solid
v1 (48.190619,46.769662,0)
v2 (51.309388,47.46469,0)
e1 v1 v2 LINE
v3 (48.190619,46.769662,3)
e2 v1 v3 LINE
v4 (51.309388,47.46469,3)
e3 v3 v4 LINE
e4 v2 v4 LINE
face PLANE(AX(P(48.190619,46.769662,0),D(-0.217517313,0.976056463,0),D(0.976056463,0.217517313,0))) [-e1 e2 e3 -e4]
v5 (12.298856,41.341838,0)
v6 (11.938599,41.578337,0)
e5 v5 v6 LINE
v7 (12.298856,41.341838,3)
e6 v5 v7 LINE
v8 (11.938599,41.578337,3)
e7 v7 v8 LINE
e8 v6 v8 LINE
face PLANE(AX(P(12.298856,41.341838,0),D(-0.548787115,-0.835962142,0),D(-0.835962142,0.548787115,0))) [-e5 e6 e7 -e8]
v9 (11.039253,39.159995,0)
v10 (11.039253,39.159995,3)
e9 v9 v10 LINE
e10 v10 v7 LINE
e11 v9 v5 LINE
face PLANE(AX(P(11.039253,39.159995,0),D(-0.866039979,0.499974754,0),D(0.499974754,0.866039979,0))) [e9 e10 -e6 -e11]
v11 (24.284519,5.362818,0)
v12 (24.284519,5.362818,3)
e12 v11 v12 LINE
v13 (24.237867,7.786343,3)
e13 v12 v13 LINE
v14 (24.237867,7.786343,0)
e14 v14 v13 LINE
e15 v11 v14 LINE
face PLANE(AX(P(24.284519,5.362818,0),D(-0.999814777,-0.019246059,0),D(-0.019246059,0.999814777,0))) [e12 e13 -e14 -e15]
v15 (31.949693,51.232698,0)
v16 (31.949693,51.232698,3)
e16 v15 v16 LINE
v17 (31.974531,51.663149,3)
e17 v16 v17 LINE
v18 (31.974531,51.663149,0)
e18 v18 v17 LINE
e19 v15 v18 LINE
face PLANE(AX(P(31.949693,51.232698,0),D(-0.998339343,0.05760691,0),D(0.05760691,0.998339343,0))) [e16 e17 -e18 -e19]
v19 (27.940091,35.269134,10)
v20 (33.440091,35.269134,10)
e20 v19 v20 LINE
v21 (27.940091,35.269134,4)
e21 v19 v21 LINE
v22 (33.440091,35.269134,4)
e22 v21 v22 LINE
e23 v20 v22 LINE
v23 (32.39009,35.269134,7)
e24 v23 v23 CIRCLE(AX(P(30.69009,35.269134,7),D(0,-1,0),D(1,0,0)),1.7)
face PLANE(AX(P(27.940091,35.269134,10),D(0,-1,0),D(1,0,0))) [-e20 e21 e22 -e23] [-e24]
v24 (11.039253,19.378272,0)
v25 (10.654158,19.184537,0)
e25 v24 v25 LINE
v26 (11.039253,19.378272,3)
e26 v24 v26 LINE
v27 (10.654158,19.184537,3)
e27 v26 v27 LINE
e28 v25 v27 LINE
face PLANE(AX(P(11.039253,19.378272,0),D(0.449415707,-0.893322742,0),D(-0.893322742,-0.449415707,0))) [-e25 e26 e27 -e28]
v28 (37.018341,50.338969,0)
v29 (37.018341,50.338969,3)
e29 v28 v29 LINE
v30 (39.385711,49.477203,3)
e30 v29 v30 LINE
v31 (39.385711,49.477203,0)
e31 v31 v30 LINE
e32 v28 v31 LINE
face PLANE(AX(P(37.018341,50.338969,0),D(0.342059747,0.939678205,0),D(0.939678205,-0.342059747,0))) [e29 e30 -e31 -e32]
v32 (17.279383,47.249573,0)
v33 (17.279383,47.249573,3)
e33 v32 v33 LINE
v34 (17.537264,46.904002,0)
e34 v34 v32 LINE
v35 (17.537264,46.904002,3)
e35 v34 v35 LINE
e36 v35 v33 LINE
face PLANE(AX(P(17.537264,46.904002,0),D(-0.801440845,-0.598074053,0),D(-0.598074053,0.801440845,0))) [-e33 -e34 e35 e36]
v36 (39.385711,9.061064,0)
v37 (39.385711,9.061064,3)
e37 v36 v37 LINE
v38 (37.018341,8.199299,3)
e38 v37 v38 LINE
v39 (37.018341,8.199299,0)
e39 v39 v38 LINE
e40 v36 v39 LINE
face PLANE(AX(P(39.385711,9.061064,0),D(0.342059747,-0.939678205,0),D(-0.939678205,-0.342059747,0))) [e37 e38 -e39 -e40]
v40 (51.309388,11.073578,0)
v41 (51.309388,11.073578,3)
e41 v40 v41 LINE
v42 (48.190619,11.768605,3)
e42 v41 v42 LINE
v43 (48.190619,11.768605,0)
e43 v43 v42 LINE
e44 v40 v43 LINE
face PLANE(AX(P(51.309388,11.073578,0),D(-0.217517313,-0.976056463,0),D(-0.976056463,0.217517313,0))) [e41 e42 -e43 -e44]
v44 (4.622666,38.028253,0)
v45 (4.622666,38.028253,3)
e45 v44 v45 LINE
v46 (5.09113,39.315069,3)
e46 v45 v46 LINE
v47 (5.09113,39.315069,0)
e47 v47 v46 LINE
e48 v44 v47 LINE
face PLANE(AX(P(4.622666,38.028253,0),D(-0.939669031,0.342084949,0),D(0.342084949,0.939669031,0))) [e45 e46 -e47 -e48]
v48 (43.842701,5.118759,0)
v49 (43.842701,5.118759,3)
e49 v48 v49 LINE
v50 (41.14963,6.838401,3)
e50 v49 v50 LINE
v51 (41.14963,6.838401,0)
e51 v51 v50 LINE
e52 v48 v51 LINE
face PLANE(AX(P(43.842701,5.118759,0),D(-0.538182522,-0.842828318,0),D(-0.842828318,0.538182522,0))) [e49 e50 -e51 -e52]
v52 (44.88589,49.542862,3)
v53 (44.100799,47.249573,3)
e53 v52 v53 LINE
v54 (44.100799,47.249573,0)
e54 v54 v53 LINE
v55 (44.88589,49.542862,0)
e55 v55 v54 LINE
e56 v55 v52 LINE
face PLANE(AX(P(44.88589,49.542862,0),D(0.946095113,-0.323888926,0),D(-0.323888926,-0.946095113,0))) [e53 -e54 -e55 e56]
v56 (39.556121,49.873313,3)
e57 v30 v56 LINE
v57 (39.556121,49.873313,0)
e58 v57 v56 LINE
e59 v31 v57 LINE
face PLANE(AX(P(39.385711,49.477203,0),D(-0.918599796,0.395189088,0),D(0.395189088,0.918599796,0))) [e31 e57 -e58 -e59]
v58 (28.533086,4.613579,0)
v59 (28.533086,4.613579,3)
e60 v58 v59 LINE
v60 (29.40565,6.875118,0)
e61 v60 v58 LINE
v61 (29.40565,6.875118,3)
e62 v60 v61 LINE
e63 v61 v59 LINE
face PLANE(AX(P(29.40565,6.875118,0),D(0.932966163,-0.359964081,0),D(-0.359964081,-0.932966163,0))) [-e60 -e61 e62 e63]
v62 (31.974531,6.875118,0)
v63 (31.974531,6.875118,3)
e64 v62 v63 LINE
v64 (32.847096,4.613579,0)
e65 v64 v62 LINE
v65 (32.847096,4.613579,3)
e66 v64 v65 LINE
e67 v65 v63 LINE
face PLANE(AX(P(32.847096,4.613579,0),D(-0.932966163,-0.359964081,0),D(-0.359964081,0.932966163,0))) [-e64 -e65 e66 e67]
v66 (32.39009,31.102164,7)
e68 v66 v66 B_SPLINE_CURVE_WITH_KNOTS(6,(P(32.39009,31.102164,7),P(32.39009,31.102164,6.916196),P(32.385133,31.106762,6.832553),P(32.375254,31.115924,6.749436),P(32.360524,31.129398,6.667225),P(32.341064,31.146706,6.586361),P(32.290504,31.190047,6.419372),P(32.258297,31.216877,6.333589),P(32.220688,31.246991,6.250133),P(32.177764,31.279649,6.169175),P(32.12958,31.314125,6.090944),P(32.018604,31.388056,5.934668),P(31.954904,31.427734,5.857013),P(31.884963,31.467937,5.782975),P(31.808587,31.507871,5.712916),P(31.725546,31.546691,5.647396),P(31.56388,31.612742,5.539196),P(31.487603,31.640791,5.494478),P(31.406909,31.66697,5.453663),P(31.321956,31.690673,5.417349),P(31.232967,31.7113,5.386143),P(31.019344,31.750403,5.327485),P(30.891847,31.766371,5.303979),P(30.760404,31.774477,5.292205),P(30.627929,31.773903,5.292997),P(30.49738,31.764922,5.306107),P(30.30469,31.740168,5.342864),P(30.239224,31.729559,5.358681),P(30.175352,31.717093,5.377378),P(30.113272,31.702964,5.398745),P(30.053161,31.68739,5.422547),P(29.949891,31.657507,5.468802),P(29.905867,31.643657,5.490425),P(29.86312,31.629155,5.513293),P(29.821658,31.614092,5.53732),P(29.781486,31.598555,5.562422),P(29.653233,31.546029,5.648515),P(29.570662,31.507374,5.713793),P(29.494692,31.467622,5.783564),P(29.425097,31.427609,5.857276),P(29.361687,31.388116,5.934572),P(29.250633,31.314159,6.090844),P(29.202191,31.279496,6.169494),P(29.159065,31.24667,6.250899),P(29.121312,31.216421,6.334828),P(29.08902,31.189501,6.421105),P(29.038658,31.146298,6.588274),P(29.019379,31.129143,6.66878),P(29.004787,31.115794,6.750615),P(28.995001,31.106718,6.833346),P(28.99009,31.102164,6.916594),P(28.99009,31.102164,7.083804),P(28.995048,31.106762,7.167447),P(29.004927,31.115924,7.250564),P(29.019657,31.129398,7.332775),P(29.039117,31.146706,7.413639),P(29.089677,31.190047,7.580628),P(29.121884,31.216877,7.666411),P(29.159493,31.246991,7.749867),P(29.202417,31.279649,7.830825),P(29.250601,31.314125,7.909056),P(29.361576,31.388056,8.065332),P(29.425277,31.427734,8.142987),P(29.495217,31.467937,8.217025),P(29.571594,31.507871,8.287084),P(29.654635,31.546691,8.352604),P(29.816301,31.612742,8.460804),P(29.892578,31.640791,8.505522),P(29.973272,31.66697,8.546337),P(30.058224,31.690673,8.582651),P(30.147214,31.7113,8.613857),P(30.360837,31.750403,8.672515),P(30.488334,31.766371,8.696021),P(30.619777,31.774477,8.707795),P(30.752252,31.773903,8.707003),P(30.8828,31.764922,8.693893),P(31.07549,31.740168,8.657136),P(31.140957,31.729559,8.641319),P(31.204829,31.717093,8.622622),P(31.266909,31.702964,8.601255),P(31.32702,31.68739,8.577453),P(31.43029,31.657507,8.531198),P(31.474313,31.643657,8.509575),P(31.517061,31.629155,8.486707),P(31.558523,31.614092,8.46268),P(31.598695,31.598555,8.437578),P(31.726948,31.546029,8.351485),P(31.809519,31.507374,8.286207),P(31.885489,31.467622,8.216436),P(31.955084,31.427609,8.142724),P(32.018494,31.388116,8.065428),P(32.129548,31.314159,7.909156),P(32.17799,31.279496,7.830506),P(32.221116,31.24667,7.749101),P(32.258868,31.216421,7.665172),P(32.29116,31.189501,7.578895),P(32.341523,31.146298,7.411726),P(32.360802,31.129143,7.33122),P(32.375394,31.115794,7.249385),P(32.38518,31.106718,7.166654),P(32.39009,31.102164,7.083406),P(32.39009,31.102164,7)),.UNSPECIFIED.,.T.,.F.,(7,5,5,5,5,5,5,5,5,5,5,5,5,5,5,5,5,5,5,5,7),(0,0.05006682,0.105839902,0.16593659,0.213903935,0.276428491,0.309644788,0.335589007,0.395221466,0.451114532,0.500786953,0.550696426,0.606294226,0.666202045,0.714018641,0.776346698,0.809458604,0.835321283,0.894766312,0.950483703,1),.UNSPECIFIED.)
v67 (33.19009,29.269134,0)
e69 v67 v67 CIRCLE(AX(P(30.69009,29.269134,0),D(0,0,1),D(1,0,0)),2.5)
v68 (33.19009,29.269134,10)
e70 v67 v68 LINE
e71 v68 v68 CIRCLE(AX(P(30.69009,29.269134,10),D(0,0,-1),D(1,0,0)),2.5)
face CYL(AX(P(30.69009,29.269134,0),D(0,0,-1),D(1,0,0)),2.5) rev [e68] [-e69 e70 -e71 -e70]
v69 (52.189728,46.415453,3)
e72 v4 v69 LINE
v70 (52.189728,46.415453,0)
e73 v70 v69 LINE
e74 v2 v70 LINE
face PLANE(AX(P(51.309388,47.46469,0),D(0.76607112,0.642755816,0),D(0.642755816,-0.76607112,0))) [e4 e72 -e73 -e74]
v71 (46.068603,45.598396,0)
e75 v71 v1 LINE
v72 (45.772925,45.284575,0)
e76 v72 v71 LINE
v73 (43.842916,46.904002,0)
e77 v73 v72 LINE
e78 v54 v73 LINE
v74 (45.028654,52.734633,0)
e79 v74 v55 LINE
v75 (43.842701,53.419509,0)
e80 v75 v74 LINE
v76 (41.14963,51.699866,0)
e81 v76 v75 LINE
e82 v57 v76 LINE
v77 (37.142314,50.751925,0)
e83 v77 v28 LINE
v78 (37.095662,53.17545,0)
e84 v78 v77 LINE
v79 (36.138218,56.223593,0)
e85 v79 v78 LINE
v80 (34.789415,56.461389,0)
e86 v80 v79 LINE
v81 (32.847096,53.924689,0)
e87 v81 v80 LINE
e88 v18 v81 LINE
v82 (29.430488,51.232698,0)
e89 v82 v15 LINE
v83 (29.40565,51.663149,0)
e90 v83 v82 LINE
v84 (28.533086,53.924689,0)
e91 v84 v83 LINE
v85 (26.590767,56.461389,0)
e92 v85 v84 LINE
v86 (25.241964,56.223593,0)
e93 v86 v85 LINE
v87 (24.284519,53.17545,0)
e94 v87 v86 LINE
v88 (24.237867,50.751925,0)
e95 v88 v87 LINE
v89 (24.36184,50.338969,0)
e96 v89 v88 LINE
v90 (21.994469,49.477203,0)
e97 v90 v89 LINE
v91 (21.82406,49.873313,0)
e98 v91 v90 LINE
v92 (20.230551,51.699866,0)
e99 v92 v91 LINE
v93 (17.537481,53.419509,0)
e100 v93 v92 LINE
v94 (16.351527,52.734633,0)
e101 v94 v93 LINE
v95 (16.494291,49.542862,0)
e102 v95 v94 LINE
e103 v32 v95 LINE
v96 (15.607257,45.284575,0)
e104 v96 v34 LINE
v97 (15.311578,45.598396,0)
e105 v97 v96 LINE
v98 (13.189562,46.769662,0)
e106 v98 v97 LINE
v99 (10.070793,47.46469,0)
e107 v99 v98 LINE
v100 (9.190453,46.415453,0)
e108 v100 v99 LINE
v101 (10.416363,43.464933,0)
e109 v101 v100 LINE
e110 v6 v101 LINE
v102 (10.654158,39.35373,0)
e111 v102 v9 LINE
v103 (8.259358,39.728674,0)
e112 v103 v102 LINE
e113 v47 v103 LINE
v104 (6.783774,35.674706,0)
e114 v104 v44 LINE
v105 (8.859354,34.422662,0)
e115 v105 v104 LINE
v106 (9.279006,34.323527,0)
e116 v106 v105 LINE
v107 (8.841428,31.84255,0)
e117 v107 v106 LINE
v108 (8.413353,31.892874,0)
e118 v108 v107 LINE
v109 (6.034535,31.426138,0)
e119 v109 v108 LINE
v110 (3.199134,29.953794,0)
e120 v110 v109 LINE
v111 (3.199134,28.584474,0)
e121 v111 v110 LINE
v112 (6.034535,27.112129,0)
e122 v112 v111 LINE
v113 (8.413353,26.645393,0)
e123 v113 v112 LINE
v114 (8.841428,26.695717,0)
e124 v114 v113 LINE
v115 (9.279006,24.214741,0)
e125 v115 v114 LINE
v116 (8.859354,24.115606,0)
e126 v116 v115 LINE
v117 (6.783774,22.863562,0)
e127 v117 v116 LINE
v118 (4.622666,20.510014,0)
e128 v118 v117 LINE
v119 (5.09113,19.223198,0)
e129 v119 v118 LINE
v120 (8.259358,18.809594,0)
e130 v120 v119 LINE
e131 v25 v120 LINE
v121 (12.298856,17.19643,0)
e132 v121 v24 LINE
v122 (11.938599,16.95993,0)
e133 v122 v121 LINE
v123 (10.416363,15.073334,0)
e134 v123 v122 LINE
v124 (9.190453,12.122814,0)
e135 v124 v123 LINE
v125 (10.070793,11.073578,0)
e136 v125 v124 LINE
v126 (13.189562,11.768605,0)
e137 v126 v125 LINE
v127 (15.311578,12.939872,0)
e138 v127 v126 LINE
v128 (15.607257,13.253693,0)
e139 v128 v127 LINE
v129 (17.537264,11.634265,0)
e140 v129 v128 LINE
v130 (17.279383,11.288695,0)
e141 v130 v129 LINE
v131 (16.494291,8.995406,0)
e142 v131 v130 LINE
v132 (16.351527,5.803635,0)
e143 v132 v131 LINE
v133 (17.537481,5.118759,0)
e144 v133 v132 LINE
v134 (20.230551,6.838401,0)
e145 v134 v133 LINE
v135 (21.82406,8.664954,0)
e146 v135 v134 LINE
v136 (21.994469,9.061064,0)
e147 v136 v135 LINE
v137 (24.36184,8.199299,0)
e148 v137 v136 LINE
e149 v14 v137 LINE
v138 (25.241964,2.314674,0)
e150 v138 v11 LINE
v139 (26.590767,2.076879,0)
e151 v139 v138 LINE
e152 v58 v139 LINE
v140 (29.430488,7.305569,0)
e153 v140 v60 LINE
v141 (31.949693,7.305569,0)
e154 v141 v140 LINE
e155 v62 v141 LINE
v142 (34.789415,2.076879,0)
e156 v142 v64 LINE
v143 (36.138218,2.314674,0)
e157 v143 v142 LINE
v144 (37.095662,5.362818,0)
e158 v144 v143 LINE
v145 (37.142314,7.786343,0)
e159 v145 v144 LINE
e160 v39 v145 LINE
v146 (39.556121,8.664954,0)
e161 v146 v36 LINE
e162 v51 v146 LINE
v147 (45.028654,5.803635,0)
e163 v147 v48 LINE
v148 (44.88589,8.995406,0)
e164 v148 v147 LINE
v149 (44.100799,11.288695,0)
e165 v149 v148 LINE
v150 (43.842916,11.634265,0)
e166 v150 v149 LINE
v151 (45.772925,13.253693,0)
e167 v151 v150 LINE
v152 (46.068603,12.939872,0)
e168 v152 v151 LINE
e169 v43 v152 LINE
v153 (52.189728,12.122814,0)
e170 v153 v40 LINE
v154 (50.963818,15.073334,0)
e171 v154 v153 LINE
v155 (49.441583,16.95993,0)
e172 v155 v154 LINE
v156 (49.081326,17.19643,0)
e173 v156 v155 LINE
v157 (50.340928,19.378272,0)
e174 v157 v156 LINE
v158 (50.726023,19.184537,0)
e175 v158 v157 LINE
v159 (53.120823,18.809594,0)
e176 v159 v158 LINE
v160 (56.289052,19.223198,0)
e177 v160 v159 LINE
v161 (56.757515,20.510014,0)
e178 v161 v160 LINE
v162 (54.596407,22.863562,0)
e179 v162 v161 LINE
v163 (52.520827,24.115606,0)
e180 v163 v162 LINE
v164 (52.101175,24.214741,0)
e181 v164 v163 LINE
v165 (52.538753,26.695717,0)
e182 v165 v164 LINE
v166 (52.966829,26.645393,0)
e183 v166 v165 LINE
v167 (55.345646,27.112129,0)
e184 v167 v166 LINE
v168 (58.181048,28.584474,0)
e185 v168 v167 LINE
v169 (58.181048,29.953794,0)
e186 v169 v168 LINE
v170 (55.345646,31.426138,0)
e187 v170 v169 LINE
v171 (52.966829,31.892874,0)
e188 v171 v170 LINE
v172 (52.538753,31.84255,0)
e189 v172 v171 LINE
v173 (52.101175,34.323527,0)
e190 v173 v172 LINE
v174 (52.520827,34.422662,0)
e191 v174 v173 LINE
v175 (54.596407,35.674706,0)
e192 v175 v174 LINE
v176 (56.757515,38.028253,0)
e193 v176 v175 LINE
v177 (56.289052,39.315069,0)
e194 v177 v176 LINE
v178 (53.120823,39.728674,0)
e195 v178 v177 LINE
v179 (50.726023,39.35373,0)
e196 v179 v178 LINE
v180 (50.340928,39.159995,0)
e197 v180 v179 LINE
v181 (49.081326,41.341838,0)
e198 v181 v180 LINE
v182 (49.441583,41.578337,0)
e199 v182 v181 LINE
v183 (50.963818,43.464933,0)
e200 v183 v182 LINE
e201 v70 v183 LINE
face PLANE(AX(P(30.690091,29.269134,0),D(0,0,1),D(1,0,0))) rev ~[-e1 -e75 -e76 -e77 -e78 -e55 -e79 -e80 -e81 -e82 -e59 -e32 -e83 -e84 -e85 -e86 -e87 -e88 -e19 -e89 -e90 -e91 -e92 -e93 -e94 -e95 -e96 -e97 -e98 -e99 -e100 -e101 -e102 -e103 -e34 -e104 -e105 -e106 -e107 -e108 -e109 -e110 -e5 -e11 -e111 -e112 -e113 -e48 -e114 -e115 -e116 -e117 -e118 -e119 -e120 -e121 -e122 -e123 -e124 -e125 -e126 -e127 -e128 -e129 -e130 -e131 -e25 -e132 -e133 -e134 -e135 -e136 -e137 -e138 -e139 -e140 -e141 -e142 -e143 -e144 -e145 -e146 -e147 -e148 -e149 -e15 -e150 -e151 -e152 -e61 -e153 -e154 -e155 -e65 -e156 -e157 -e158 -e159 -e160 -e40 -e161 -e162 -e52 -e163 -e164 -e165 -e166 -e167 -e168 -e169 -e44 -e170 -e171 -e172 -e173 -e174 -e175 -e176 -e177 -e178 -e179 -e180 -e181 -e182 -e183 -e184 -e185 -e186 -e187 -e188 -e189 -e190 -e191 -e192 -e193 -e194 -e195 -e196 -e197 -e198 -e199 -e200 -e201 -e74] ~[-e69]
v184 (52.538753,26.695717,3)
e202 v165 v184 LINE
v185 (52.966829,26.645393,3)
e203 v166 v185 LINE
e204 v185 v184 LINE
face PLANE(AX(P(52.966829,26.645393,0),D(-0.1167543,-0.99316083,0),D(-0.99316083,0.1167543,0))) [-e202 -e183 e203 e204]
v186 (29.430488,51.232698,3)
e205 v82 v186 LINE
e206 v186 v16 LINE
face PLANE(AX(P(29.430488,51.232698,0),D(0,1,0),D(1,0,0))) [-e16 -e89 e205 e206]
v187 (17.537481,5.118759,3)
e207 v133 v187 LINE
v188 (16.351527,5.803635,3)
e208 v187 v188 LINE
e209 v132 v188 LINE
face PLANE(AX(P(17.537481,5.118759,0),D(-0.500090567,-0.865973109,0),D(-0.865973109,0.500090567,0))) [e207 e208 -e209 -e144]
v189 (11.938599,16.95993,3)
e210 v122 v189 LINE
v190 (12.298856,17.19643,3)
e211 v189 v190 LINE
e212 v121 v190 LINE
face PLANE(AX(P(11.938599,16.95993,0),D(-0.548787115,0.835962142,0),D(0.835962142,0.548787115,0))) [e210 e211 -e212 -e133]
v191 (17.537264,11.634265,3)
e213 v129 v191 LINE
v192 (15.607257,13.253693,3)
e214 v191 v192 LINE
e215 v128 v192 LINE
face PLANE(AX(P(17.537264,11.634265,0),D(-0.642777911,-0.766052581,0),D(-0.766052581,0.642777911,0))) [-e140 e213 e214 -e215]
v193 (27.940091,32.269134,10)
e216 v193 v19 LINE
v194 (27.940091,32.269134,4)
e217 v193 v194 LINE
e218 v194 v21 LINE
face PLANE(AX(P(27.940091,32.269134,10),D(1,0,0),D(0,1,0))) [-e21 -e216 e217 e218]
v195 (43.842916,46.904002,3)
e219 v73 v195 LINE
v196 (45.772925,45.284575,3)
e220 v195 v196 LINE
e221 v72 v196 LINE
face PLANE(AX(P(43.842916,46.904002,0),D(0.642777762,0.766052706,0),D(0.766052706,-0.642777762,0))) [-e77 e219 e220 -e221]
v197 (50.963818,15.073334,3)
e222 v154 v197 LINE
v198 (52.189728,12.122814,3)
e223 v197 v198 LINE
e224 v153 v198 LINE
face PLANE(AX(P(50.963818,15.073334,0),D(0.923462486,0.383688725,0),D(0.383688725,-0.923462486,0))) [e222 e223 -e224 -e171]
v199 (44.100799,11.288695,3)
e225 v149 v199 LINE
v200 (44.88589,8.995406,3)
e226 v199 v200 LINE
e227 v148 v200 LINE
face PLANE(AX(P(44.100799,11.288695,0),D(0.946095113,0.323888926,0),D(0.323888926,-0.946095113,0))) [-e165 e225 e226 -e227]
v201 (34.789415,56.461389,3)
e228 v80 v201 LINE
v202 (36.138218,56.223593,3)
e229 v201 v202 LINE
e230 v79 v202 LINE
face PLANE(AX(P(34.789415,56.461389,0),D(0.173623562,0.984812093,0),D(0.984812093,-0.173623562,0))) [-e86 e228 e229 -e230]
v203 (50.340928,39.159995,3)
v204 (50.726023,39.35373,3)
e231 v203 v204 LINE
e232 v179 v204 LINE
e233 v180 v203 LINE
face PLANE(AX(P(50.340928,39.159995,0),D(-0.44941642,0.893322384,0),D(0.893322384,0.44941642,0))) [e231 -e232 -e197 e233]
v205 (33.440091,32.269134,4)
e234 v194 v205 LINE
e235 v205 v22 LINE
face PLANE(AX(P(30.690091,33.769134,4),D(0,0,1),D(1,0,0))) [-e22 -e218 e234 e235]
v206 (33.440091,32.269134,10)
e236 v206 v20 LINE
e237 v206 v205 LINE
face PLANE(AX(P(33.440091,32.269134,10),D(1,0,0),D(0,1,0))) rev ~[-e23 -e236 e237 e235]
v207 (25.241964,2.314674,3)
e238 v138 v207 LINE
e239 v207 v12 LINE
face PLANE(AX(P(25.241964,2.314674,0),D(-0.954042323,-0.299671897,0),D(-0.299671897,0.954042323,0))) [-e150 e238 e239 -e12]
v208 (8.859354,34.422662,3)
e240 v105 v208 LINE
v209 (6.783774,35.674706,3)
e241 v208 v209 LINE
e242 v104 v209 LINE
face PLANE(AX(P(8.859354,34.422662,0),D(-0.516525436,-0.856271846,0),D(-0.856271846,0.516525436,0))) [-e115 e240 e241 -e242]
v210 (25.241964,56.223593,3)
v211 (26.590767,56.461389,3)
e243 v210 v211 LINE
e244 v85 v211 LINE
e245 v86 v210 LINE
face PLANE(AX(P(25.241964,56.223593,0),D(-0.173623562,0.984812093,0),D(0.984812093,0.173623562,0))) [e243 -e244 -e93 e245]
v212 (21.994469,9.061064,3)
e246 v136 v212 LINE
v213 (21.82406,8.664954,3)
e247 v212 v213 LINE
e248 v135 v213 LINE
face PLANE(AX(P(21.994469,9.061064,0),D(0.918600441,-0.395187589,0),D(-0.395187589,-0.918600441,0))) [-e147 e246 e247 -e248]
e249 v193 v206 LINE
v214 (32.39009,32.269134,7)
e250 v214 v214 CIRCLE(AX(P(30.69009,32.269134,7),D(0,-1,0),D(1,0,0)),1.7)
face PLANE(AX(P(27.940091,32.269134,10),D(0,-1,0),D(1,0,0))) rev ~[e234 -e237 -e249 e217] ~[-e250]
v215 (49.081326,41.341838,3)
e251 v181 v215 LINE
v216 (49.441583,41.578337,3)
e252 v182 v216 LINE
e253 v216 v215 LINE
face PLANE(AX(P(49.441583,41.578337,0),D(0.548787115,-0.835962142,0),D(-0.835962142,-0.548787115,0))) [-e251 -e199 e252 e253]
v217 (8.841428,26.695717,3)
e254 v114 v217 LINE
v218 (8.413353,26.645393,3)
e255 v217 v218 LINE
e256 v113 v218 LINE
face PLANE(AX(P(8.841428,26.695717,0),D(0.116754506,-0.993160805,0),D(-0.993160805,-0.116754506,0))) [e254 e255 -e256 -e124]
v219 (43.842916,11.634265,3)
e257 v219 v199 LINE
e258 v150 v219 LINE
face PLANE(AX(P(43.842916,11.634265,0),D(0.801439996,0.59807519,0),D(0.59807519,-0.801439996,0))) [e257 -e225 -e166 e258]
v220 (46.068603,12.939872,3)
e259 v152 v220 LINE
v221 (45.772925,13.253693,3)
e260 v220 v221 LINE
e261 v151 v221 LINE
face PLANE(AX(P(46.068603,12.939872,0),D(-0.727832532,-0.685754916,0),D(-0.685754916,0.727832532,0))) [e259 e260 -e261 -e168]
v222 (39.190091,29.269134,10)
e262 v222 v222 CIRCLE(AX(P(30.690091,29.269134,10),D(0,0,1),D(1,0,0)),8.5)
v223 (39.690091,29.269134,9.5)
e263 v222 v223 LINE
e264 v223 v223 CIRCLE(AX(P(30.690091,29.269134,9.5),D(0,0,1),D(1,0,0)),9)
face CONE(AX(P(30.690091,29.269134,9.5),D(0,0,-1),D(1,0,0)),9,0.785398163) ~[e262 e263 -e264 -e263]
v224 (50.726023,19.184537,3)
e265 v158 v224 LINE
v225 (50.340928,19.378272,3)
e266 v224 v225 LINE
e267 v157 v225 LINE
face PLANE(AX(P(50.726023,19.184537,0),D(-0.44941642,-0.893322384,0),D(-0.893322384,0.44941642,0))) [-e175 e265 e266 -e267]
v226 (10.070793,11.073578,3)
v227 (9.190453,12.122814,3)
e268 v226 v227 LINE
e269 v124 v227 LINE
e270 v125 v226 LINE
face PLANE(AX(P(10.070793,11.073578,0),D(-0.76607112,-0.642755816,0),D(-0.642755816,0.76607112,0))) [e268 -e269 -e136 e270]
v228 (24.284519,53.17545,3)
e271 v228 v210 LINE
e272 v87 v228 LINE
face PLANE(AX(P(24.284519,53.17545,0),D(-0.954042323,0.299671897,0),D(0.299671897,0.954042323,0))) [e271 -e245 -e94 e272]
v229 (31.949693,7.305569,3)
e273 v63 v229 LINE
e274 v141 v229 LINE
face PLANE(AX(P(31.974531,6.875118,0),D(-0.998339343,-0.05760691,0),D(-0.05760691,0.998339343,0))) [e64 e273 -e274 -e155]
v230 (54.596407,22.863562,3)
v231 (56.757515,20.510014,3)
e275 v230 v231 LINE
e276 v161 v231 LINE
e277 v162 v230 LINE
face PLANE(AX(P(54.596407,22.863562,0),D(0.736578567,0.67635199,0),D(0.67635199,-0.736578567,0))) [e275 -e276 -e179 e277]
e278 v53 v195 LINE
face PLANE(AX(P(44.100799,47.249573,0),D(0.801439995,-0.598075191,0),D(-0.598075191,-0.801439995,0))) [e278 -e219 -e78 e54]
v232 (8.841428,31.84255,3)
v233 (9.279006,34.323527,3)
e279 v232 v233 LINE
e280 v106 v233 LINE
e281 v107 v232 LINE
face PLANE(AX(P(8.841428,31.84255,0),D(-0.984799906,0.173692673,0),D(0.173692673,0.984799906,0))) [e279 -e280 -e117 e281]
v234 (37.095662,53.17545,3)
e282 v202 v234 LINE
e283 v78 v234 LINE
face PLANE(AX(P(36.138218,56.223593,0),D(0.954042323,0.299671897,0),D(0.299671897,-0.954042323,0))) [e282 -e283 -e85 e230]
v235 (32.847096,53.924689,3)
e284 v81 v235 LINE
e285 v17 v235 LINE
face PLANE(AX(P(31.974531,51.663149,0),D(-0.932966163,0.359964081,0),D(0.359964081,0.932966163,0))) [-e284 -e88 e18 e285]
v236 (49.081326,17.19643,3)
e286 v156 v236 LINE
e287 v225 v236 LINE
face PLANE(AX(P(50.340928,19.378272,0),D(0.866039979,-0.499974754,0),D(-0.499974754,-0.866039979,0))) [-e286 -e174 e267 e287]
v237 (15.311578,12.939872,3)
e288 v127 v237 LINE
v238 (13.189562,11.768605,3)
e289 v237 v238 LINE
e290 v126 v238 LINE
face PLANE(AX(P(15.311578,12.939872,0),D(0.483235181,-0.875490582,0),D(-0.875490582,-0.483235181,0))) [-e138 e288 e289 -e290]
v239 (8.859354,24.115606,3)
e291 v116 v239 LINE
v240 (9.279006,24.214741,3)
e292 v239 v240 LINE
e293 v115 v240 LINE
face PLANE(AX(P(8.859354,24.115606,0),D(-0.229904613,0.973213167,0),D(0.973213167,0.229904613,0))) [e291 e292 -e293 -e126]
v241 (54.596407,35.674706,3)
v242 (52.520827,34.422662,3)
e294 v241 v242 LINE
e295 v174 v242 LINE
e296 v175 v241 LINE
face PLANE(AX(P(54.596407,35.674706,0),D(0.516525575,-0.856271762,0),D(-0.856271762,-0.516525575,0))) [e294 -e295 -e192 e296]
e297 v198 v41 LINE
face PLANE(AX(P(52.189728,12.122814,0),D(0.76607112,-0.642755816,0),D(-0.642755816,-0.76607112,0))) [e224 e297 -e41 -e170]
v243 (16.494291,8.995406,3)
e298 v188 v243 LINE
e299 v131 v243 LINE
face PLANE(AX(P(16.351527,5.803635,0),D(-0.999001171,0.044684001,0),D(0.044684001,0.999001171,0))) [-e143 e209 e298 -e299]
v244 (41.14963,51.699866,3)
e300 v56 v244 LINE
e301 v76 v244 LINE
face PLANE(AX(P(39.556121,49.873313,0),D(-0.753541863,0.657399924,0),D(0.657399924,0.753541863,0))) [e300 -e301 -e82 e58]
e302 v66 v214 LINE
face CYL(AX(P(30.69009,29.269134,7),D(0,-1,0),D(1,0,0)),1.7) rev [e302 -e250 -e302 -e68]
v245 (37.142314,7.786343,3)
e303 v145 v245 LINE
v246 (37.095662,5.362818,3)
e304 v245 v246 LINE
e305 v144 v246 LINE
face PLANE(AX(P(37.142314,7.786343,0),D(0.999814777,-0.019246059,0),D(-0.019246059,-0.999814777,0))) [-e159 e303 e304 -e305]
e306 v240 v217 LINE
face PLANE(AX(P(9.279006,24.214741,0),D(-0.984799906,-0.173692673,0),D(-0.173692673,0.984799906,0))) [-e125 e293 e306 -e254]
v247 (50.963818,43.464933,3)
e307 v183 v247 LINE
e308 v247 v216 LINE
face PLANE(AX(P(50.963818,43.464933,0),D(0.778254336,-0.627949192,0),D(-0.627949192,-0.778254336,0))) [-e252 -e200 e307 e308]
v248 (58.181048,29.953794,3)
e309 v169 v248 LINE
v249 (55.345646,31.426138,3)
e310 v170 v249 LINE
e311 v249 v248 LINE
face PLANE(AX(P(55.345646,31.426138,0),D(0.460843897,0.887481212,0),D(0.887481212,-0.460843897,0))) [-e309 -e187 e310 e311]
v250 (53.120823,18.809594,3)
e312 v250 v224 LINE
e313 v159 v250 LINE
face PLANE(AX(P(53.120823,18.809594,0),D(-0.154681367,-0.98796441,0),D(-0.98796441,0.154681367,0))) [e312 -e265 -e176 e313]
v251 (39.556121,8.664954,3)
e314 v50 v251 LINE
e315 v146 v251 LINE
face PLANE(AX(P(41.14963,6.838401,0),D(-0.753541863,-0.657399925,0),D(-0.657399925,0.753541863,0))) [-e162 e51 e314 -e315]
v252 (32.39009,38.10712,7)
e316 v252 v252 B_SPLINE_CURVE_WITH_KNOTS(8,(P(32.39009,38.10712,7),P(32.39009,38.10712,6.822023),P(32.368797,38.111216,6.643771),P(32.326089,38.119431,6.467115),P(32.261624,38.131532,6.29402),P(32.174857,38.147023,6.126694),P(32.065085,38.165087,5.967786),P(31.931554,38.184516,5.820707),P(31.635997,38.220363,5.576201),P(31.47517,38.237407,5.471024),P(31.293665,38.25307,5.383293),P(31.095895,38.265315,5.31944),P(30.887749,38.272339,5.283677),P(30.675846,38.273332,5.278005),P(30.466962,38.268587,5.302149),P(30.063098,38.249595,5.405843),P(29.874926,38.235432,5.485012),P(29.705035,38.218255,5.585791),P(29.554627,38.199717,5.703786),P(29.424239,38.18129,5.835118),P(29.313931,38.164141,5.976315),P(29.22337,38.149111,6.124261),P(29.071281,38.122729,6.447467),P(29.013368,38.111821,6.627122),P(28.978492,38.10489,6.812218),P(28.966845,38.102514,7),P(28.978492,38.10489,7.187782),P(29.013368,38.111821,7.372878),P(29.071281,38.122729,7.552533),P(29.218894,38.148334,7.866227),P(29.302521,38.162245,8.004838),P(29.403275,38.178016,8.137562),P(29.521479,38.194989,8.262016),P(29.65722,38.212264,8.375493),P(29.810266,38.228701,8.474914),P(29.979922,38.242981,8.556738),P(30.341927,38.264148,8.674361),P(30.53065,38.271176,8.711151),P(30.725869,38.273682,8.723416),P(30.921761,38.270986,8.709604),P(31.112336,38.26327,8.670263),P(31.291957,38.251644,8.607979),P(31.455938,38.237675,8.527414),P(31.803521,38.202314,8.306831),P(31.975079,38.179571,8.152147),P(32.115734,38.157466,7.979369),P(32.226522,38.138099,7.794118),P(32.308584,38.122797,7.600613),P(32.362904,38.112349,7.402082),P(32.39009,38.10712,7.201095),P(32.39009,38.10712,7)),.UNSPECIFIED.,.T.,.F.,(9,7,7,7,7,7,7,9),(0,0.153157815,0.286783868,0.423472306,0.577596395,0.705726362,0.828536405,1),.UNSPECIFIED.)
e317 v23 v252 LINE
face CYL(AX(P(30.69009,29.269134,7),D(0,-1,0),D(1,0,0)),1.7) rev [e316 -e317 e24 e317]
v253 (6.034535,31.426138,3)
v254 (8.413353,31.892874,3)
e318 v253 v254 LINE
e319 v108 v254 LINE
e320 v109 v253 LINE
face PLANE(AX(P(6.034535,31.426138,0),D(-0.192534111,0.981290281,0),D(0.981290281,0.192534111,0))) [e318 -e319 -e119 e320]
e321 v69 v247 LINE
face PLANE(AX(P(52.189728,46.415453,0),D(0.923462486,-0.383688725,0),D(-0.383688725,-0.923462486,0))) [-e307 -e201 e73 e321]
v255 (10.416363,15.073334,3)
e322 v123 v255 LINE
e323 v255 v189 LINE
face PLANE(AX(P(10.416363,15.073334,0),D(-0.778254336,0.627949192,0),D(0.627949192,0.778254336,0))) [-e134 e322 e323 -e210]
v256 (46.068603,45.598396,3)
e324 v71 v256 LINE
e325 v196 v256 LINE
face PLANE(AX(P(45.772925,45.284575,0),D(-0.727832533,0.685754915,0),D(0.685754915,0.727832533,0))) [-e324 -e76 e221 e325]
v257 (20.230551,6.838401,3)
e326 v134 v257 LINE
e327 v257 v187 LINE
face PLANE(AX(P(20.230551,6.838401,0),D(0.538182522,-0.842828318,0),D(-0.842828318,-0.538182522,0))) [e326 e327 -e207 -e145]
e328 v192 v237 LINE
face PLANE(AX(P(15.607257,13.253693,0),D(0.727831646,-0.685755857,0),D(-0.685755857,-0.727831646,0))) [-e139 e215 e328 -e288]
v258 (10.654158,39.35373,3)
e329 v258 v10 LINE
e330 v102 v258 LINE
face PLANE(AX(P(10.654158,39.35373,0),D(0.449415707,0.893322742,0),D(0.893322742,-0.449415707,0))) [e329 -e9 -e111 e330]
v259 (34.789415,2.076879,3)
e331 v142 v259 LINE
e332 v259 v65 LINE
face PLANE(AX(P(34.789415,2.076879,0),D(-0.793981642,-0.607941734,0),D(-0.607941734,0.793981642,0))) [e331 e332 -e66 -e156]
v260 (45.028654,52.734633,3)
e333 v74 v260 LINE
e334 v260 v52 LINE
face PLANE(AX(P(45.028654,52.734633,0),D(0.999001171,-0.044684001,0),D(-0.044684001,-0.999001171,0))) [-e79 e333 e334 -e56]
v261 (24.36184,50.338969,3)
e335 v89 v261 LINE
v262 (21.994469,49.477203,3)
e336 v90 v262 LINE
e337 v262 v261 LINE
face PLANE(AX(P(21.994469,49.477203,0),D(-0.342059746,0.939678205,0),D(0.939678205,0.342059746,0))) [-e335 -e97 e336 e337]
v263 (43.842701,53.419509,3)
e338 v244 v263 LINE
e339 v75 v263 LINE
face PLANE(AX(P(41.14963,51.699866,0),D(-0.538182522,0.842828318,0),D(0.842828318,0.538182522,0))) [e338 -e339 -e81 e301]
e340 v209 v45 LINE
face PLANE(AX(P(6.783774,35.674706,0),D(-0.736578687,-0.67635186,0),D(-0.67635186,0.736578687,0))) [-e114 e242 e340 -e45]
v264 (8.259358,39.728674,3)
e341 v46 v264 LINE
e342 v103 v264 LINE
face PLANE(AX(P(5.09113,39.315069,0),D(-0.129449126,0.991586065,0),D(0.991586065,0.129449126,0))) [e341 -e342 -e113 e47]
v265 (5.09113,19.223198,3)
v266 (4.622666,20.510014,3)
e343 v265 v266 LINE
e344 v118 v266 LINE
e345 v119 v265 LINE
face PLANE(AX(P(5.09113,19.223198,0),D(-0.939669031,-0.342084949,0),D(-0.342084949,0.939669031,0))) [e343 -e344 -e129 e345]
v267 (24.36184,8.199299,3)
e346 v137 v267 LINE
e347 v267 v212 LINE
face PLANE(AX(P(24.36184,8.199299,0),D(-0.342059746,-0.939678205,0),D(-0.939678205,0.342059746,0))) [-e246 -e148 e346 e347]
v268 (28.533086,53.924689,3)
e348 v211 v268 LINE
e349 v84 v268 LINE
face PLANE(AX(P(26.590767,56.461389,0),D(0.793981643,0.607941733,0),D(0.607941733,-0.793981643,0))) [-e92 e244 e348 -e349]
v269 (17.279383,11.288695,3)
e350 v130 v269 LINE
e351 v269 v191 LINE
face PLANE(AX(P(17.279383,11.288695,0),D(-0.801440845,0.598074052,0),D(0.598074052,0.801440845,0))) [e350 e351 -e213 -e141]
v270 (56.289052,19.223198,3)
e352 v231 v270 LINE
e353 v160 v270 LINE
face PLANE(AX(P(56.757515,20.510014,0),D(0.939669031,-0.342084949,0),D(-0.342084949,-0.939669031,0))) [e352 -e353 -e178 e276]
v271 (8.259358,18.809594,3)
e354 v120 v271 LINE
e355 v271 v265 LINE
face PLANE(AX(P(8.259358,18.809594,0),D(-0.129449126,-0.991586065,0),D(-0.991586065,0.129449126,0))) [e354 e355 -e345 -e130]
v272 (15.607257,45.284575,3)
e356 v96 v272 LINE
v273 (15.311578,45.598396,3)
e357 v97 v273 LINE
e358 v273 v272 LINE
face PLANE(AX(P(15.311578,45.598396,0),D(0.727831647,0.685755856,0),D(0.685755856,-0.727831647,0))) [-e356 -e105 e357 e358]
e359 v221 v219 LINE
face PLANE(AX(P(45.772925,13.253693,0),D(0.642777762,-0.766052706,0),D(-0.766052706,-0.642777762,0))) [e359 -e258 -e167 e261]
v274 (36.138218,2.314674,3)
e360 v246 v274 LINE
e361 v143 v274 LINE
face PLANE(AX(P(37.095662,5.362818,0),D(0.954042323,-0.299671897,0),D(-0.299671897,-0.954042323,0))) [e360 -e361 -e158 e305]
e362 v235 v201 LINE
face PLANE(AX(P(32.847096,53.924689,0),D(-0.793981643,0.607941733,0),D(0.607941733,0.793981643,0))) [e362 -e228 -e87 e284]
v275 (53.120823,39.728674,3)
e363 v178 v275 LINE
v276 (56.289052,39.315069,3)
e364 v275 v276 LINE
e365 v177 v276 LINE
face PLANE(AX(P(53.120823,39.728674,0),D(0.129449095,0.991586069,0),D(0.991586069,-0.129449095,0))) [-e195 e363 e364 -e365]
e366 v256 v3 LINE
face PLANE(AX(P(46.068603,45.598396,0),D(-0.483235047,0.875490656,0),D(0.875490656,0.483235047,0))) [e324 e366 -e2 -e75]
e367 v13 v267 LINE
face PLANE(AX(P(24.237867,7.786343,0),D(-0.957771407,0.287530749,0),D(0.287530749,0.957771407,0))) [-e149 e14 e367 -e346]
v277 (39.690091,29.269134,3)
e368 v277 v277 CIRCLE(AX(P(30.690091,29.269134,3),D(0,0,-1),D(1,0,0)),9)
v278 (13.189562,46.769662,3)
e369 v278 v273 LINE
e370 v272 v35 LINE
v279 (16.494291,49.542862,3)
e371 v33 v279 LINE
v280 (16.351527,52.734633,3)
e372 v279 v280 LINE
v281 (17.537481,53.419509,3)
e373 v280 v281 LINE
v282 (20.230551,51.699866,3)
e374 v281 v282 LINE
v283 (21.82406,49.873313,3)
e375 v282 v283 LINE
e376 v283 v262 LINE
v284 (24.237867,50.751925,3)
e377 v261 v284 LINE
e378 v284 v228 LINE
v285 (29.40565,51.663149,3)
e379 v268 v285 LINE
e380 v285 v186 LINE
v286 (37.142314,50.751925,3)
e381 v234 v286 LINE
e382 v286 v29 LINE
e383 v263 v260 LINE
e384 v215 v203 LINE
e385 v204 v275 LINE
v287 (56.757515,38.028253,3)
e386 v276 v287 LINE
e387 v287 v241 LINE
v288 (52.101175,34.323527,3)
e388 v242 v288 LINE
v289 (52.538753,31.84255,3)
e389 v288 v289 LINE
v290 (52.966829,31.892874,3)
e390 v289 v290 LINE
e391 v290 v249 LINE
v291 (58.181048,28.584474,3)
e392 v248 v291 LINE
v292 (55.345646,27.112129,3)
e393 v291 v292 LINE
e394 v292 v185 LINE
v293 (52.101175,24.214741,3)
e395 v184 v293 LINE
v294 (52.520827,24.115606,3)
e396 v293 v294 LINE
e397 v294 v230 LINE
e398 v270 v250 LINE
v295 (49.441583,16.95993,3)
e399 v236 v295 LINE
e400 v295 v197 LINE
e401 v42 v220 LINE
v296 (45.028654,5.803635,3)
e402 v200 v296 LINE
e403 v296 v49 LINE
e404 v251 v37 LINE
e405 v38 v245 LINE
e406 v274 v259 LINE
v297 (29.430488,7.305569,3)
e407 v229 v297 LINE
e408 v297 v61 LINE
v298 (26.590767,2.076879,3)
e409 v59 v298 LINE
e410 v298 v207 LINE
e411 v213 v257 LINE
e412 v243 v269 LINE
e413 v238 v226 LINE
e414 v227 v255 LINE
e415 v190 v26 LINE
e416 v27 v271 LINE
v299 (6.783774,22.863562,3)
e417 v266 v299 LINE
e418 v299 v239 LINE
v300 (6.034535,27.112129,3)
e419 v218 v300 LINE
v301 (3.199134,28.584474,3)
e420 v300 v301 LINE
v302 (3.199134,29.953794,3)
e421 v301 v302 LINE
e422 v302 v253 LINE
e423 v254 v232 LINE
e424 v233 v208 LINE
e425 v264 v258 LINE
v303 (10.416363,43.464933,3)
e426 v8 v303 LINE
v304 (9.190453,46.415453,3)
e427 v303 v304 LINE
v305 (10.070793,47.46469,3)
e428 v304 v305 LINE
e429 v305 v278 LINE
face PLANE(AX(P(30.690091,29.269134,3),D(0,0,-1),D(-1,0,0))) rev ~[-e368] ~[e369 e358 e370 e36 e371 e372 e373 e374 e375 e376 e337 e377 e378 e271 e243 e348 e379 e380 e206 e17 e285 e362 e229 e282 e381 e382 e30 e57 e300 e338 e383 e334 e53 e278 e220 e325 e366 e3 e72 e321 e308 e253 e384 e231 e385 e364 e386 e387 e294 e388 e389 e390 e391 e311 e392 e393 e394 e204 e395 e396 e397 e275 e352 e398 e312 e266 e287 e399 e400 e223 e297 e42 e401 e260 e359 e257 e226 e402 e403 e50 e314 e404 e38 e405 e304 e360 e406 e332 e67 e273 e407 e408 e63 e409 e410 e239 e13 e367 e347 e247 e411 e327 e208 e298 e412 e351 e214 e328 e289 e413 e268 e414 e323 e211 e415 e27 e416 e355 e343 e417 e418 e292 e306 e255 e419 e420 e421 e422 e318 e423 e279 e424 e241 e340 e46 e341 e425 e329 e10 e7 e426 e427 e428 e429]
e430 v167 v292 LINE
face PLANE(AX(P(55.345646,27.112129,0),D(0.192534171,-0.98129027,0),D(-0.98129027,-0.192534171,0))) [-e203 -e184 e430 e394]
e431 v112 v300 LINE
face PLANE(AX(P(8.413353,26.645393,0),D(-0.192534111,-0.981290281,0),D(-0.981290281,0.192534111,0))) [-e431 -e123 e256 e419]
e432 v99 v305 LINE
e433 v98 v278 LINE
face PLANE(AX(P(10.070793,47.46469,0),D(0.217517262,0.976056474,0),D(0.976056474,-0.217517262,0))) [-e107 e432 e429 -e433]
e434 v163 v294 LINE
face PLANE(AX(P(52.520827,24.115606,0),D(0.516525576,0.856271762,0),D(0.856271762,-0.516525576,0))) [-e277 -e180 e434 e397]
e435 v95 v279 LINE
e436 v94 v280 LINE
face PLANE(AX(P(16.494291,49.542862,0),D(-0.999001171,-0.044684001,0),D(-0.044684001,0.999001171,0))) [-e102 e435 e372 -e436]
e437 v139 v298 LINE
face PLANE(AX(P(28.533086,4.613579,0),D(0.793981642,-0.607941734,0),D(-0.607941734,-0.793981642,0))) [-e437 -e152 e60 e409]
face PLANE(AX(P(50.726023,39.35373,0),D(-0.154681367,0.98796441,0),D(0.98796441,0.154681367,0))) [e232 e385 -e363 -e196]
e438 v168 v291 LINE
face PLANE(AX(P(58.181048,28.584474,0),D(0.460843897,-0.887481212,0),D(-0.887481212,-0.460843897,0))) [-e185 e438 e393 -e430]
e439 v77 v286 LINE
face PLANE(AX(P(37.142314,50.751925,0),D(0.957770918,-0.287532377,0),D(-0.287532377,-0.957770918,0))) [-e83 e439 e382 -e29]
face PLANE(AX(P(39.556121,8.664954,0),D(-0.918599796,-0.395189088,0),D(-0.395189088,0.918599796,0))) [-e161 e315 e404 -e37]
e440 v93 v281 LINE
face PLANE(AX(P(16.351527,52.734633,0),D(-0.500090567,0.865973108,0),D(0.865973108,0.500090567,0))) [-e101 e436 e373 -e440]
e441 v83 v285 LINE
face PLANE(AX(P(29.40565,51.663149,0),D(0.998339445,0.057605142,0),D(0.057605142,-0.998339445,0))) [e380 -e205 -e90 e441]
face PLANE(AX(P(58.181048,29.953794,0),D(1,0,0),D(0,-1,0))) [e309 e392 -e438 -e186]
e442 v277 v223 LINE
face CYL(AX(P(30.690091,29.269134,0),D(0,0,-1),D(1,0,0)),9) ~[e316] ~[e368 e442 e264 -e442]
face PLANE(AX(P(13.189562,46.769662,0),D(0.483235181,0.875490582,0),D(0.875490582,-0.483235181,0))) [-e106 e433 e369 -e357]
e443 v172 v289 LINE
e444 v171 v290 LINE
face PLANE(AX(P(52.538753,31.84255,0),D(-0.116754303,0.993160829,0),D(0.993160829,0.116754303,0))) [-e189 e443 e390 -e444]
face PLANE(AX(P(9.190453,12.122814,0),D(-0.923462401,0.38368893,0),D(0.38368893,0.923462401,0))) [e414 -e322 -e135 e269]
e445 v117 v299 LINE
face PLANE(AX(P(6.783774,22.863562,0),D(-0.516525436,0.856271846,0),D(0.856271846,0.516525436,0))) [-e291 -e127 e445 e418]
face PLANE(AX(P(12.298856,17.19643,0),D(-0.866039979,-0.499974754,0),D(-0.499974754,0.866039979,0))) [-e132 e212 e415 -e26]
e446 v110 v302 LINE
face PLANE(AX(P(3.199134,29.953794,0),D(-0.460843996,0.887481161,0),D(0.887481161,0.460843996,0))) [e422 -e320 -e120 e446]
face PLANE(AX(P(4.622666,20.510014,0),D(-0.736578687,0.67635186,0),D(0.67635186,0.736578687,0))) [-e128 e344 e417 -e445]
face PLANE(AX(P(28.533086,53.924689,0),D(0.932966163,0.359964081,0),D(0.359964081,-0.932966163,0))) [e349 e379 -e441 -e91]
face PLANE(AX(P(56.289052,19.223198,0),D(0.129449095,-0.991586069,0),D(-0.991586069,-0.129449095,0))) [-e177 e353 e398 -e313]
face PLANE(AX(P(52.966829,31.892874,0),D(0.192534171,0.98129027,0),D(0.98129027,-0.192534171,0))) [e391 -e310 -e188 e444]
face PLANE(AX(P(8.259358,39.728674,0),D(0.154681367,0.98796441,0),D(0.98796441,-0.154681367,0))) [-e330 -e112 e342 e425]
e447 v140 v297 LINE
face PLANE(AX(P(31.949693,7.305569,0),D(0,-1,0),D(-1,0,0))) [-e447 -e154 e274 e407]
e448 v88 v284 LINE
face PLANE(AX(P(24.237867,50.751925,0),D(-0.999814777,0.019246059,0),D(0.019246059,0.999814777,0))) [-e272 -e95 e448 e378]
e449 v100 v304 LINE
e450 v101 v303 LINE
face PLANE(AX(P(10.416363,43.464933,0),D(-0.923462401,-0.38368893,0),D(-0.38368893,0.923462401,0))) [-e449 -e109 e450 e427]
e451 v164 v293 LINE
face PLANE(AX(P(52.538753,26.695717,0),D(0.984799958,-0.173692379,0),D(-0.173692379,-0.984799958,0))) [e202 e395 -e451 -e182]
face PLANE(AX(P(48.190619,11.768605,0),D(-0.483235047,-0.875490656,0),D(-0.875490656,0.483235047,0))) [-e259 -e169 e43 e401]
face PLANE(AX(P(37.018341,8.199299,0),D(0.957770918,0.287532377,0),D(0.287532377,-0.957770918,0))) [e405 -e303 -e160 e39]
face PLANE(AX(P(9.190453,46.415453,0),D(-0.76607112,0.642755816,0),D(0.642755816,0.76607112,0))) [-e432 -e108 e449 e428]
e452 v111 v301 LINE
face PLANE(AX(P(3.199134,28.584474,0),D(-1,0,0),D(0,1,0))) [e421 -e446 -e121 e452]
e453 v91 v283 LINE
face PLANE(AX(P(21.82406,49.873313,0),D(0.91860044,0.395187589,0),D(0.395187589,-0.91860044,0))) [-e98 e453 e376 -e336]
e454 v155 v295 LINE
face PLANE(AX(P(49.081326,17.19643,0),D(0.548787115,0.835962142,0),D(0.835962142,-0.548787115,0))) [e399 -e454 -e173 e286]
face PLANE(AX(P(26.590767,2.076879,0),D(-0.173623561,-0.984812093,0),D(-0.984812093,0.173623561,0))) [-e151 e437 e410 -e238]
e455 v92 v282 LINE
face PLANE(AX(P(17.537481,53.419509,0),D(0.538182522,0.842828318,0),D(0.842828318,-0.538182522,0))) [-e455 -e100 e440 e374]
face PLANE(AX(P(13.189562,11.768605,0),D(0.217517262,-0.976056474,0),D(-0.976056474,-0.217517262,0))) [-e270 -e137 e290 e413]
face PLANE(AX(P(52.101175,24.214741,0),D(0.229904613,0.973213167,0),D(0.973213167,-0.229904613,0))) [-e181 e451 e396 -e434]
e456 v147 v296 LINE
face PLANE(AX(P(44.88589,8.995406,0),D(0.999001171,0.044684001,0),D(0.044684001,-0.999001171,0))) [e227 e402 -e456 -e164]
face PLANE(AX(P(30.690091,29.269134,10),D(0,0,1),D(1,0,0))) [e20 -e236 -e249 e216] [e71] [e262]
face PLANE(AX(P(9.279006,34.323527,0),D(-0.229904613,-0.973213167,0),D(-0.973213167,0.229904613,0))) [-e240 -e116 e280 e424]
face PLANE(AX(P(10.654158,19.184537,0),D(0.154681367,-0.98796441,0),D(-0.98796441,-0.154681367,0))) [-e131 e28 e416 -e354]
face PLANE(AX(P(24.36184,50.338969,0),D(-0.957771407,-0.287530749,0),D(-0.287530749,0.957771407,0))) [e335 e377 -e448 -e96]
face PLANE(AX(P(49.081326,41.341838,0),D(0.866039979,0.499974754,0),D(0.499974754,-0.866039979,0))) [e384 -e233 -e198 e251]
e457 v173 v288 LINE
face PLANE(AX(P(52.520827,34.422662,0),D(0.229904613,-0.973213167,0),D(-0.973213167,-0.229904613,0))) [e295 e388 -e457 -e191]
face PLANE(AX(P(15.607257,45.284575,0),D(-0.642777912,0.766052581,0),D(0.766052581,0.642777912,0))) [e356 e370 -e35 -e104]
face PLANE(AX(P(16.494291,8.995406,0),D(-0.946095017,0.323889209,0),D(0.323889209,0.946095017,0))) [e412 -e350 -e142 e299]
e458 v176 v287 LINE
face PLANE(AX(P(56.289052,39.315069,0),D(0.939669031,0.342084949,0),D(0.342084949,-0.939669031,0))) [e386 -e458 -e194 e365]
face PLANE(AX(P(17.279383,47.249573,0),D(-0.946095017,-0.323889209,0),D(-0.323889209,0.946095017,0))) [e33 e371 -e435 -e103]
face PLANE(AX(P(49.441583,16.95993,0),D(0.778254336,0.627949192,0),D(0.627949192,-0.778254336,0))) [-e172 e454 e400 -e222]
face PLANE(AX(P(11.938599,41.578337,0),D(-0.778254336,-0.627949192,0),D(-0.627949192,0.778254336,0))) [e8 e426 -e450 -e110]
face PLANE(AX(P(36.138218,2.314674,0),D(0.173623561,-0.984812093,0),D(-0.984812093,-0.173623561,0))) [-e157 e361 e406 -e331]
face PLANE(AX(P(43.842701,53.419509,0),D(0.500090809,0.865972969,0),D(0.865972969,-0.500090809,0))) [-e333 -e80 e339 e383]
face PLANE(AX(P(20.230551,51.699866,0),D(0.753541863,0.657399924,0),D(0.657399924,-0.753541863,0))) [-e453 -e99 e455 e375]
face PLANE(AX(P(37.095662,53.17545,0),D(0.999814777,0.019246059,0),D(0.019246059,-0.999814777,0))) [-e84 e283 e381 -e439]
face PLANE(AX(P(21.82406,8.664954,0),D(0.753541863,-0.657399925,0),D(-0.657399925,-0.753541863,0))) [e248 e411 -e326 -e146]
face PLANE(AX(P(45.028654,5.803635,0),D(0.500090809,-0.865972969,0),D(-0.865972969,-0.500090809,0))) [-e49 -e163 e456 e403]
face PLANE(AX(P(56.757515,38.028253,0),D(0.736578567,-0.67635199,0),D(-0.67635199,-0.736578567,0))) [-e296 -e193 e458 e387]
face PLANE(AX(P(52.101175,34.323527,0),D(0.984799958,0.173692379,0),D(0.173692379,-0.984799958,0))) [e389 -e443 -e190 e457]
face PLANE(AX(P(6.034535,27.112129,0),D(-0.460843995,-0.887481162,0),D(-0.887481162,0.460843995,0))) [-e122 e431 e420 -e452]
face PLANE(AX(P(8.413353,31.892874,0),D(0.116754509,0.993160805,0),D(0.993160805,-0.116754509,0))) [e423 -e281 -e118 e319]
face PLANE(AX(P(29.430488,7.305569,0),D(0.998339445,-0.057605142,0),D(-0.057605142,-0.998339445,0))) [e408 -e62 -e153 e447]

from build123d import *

# Parameters (mm, degrees)
BOSS_EXTRUDE1_DEPTH = 3
SKETCH2_R           = 9
BOSS_EXTRUDE2_DEPTH = 10
SKETCH3_R           = 2.5
CUT_EXTRUDE1_DEPTH  = 11
SKETCH4_R           = 1.7
CUT_EXTRUDE2_DEPTH  = 28.192254919
SKETCH6_W           = 5.5
SKETCH6_H           = 3
CUT_EXTRUDE3_DEPTH  = 6
CHAMFER1_SIZE       = 0.5


with BuildPart() as part:
    # Sketch1 → Boss-Extrude1 (new body)
    with BuildSketch(Plane.XY):
        Polygon((52.538753323, 31.842550454), (52.966828578, 31.892874255), (55.345645602, 31.426138186), (58.181047917, 29.953793943), (58.181047917, 28.58447352), (55.345645602, 27.112129278), (52.966828578, 26.645393209), (52.538753323, 26.695717009), (52.101175487, 24.214740941), (52.520827219, 24.115605549), (54.596406573, 22.863561667), (56.757515266, 20.510014449), (56.289051942, 19.223198182), (53.120822867, 18.809593755), (50.726022805, 19.184537369), (50.340928413, 19.378272292), (49.081325783, 17.196429655), (49.441582758, 16.959930445), (50.963818413, 15.073334341), (52.189727713, 12.122814362), (51.309387982, 11.073577892), (48.190619463, 11.768605458), (46.068603205, 12.939871673), (45.772925049, 13.253692509), (43.84291646, 11.634265293), (44.100798578, 11.288694958), (44.885889814, 8.995405743), (45.028653503, 5.803634881), (43.842700649, 5.118758859), (41.149630401, 6.838401289), (39.556121189, 8.664954435), (39.385711475, 9.061064382), (37.018340862, 8.199298953), (37.142314438, 7.786342725), (37.095662488, 5.362817582), (36.138217708, 2.31467442), (34.789414653, 2.076878813), (32.847095643, 4.613578553), (31.974531237, 6.875118271), (31.949693054, 7.30556898), (29.430487794, 7.30556898), (29.405650376, 6.875118271), (28.53308597, 4.613578553), (26.59076696, 2.076878813), (25.241963905, 2.31467442), (24.284519124, 5.362817582), (24.237867175, 7.786342725), (24.361839986, 8.199298953), (21.994469372, 9.061064382), (21.824060424, 8.664954435), (20.230551212, 6.838401289), (17.537480964, 5.118758859), (16.351527344, 5.803634881), (16.494291033, 8.995405743), (17.279383034, 11.288694958), (17.537264388, 11.634265293), (15.607256564, 13.253692509), (15.311577642, 12.939871673), (13.18956215, 11.768605458), (10.070792865, 11.073577892), (9.190453134, 12.122814362), (10.4163632, 15.073334341), (11.938598855, 16.959930445), (12.29885583, 17.196429655), (11.0392532, 19.378272292), (10.654158042, 19.184537369), (8.259357981, 18.809593755), (5.091129671, 19.223198182), (4.622666347, 20.510014449), (6.783774274, 22.863561667), (8.859354394, 24.115605549), (9.279006126, 24.214740941), (8.841427525, 26.695717009), (8.413353035, 26.645393209), (6.034535245, 27.112129278), (3.199133696, 28.58447352), (3.199133696, 29.953793943), (6.034535245, 31.426138186), (8.413353035, 31.892874255), (8.841427525, 31.842550454), (9.279006126, 34.323526523), (8.859354394, 34.422661915), (6.783774274, 35.674705796), (4.622666347, 38.028253015), (5.091129671, 39.315069282), (8.259357981, 39.728673709), (10.654158042, 39.353730095), (11.0392532, 39.159995172), (12.29885583, 41.341837809), (11.938598855, 41.578337019), (10.4163632, 43.464933122), (9.190453134, 46.415453101), (10.070792865, 47.464689572), (13.18956215, 46.769662005), (15.311577642, 45.598395791), (15.607256564, 45.284574954), (17.537264388, 46.904002171), (17.279383034, 47.249572505), (16.494291033, 49.542861721), (16.351527344, 52.734632582), (17.537480964, 53.419508605), (20.230551212, 51.699866175), (21.824060424, 49.873313028), (21.994469372, 49.477203082), (24.361839986, 50.338968511), (24.237867175, 50.751924739), (24.284519124, 53.175449881), (25.241963905, 56.223593043), (26.59076696, 56.461388651), (28.53308597, 53.92468891), (29.405650376, 51.663149193), (29.430487794, 51.232698484), (31.949693054, 51.232698484), (31.974531237, 51.663149193), (32.847095643, 53.92468891), (34.789414653, 56.461388651), (36.138217708, 56.223593043), (37.095662488, 53.175449881), (37.142314438, 50.751924739), (37.018340862, 50.338968511), (39.385711475, 49.477203082), (39.556121189, 49.873313028), (41.149630401, 51.699866175), (43.842700649, 53.419508605), (45.028653503, 52.734632582), (44.885889814, 49.542861721), (44.100798578, 47.249572505), (43.84291646, 46.904002171), (45.772925049, 45.284574954), (46.068603205, 45.598395791), (48.190619463, 46.769662005), (51.309387982, 47.464689572), (52.189727713, 46.415453101), (50.963818413, 43.464933122), (49.441582758, 41.578337019), (49.081325783, 41.341837809), (50.340928413, 39.159995172), (50.726022805, 39.353730095), (53.120822867, 39.728673709), (56.289051942, 39.315069282), (56.757515266, 38.028253015), (54.596406573, 35.674705796), (52.520827219, 34.422661915), (52.101175487, 34.323526523), align=None)
    extrude(amount=BOSS_EXTRUDE1_DEPTH)

    # Sketch2 → Boss-Extrude2 (add)
    with BuildSketch(Plane.XY):
        with Locations((30.690090806, 29.269133732)):
            Circle(SKETCH2_R)
    extrude(amount=BOSS_EXTRUDE2_DEPTH)

    # Sketch3 → Cut-Extrude1 (cut, through all)
    with BuildSketch(Plane.XY):
        with Locations((30.690090424, 29.269133732)):
            Circle(SKETCH3_R)
    extrude(amount=CUT_EXTRUDE1_DEPTH, mode=Mode.SUBTRACT)

    # Sketch4 → Cut-Extrude2 (cut, through all)
    with BuildSketch(Plane(origin=(0, 29.269133732, 0), x_dir=(1, 0, 0), z_dir=(0, 1, 0))):
        with Locations((30.690090424, -7)):
            Circle(SKETCH4_R)
    extrude(amount=CUT_EXTRUDE2_DEPTH, mode=Mode.SUBTRACT)

    # Sketch6 → Cut-Extrude3 (cut)
    with BuildSketch(Plane.XY.offset(10)):
        with Locations((30.690090806, 33.769133732)):
            Rectangle(SKETCH6_W, SKETCH6_H)
    extrude(amount=-CUT_EXTRUDE3_DEPTH, mode=Mode.SUBTRACT)

    # Chamfer1
    chamfer1_edges = [part.edges().sort_by_distance(p)[0] for p in [
        (21.690090806, 29.269133732, 10),
    ]]
    chamfer(chamfer1_edges, length=CHAMFER1_SIZE)


solid = part.part
